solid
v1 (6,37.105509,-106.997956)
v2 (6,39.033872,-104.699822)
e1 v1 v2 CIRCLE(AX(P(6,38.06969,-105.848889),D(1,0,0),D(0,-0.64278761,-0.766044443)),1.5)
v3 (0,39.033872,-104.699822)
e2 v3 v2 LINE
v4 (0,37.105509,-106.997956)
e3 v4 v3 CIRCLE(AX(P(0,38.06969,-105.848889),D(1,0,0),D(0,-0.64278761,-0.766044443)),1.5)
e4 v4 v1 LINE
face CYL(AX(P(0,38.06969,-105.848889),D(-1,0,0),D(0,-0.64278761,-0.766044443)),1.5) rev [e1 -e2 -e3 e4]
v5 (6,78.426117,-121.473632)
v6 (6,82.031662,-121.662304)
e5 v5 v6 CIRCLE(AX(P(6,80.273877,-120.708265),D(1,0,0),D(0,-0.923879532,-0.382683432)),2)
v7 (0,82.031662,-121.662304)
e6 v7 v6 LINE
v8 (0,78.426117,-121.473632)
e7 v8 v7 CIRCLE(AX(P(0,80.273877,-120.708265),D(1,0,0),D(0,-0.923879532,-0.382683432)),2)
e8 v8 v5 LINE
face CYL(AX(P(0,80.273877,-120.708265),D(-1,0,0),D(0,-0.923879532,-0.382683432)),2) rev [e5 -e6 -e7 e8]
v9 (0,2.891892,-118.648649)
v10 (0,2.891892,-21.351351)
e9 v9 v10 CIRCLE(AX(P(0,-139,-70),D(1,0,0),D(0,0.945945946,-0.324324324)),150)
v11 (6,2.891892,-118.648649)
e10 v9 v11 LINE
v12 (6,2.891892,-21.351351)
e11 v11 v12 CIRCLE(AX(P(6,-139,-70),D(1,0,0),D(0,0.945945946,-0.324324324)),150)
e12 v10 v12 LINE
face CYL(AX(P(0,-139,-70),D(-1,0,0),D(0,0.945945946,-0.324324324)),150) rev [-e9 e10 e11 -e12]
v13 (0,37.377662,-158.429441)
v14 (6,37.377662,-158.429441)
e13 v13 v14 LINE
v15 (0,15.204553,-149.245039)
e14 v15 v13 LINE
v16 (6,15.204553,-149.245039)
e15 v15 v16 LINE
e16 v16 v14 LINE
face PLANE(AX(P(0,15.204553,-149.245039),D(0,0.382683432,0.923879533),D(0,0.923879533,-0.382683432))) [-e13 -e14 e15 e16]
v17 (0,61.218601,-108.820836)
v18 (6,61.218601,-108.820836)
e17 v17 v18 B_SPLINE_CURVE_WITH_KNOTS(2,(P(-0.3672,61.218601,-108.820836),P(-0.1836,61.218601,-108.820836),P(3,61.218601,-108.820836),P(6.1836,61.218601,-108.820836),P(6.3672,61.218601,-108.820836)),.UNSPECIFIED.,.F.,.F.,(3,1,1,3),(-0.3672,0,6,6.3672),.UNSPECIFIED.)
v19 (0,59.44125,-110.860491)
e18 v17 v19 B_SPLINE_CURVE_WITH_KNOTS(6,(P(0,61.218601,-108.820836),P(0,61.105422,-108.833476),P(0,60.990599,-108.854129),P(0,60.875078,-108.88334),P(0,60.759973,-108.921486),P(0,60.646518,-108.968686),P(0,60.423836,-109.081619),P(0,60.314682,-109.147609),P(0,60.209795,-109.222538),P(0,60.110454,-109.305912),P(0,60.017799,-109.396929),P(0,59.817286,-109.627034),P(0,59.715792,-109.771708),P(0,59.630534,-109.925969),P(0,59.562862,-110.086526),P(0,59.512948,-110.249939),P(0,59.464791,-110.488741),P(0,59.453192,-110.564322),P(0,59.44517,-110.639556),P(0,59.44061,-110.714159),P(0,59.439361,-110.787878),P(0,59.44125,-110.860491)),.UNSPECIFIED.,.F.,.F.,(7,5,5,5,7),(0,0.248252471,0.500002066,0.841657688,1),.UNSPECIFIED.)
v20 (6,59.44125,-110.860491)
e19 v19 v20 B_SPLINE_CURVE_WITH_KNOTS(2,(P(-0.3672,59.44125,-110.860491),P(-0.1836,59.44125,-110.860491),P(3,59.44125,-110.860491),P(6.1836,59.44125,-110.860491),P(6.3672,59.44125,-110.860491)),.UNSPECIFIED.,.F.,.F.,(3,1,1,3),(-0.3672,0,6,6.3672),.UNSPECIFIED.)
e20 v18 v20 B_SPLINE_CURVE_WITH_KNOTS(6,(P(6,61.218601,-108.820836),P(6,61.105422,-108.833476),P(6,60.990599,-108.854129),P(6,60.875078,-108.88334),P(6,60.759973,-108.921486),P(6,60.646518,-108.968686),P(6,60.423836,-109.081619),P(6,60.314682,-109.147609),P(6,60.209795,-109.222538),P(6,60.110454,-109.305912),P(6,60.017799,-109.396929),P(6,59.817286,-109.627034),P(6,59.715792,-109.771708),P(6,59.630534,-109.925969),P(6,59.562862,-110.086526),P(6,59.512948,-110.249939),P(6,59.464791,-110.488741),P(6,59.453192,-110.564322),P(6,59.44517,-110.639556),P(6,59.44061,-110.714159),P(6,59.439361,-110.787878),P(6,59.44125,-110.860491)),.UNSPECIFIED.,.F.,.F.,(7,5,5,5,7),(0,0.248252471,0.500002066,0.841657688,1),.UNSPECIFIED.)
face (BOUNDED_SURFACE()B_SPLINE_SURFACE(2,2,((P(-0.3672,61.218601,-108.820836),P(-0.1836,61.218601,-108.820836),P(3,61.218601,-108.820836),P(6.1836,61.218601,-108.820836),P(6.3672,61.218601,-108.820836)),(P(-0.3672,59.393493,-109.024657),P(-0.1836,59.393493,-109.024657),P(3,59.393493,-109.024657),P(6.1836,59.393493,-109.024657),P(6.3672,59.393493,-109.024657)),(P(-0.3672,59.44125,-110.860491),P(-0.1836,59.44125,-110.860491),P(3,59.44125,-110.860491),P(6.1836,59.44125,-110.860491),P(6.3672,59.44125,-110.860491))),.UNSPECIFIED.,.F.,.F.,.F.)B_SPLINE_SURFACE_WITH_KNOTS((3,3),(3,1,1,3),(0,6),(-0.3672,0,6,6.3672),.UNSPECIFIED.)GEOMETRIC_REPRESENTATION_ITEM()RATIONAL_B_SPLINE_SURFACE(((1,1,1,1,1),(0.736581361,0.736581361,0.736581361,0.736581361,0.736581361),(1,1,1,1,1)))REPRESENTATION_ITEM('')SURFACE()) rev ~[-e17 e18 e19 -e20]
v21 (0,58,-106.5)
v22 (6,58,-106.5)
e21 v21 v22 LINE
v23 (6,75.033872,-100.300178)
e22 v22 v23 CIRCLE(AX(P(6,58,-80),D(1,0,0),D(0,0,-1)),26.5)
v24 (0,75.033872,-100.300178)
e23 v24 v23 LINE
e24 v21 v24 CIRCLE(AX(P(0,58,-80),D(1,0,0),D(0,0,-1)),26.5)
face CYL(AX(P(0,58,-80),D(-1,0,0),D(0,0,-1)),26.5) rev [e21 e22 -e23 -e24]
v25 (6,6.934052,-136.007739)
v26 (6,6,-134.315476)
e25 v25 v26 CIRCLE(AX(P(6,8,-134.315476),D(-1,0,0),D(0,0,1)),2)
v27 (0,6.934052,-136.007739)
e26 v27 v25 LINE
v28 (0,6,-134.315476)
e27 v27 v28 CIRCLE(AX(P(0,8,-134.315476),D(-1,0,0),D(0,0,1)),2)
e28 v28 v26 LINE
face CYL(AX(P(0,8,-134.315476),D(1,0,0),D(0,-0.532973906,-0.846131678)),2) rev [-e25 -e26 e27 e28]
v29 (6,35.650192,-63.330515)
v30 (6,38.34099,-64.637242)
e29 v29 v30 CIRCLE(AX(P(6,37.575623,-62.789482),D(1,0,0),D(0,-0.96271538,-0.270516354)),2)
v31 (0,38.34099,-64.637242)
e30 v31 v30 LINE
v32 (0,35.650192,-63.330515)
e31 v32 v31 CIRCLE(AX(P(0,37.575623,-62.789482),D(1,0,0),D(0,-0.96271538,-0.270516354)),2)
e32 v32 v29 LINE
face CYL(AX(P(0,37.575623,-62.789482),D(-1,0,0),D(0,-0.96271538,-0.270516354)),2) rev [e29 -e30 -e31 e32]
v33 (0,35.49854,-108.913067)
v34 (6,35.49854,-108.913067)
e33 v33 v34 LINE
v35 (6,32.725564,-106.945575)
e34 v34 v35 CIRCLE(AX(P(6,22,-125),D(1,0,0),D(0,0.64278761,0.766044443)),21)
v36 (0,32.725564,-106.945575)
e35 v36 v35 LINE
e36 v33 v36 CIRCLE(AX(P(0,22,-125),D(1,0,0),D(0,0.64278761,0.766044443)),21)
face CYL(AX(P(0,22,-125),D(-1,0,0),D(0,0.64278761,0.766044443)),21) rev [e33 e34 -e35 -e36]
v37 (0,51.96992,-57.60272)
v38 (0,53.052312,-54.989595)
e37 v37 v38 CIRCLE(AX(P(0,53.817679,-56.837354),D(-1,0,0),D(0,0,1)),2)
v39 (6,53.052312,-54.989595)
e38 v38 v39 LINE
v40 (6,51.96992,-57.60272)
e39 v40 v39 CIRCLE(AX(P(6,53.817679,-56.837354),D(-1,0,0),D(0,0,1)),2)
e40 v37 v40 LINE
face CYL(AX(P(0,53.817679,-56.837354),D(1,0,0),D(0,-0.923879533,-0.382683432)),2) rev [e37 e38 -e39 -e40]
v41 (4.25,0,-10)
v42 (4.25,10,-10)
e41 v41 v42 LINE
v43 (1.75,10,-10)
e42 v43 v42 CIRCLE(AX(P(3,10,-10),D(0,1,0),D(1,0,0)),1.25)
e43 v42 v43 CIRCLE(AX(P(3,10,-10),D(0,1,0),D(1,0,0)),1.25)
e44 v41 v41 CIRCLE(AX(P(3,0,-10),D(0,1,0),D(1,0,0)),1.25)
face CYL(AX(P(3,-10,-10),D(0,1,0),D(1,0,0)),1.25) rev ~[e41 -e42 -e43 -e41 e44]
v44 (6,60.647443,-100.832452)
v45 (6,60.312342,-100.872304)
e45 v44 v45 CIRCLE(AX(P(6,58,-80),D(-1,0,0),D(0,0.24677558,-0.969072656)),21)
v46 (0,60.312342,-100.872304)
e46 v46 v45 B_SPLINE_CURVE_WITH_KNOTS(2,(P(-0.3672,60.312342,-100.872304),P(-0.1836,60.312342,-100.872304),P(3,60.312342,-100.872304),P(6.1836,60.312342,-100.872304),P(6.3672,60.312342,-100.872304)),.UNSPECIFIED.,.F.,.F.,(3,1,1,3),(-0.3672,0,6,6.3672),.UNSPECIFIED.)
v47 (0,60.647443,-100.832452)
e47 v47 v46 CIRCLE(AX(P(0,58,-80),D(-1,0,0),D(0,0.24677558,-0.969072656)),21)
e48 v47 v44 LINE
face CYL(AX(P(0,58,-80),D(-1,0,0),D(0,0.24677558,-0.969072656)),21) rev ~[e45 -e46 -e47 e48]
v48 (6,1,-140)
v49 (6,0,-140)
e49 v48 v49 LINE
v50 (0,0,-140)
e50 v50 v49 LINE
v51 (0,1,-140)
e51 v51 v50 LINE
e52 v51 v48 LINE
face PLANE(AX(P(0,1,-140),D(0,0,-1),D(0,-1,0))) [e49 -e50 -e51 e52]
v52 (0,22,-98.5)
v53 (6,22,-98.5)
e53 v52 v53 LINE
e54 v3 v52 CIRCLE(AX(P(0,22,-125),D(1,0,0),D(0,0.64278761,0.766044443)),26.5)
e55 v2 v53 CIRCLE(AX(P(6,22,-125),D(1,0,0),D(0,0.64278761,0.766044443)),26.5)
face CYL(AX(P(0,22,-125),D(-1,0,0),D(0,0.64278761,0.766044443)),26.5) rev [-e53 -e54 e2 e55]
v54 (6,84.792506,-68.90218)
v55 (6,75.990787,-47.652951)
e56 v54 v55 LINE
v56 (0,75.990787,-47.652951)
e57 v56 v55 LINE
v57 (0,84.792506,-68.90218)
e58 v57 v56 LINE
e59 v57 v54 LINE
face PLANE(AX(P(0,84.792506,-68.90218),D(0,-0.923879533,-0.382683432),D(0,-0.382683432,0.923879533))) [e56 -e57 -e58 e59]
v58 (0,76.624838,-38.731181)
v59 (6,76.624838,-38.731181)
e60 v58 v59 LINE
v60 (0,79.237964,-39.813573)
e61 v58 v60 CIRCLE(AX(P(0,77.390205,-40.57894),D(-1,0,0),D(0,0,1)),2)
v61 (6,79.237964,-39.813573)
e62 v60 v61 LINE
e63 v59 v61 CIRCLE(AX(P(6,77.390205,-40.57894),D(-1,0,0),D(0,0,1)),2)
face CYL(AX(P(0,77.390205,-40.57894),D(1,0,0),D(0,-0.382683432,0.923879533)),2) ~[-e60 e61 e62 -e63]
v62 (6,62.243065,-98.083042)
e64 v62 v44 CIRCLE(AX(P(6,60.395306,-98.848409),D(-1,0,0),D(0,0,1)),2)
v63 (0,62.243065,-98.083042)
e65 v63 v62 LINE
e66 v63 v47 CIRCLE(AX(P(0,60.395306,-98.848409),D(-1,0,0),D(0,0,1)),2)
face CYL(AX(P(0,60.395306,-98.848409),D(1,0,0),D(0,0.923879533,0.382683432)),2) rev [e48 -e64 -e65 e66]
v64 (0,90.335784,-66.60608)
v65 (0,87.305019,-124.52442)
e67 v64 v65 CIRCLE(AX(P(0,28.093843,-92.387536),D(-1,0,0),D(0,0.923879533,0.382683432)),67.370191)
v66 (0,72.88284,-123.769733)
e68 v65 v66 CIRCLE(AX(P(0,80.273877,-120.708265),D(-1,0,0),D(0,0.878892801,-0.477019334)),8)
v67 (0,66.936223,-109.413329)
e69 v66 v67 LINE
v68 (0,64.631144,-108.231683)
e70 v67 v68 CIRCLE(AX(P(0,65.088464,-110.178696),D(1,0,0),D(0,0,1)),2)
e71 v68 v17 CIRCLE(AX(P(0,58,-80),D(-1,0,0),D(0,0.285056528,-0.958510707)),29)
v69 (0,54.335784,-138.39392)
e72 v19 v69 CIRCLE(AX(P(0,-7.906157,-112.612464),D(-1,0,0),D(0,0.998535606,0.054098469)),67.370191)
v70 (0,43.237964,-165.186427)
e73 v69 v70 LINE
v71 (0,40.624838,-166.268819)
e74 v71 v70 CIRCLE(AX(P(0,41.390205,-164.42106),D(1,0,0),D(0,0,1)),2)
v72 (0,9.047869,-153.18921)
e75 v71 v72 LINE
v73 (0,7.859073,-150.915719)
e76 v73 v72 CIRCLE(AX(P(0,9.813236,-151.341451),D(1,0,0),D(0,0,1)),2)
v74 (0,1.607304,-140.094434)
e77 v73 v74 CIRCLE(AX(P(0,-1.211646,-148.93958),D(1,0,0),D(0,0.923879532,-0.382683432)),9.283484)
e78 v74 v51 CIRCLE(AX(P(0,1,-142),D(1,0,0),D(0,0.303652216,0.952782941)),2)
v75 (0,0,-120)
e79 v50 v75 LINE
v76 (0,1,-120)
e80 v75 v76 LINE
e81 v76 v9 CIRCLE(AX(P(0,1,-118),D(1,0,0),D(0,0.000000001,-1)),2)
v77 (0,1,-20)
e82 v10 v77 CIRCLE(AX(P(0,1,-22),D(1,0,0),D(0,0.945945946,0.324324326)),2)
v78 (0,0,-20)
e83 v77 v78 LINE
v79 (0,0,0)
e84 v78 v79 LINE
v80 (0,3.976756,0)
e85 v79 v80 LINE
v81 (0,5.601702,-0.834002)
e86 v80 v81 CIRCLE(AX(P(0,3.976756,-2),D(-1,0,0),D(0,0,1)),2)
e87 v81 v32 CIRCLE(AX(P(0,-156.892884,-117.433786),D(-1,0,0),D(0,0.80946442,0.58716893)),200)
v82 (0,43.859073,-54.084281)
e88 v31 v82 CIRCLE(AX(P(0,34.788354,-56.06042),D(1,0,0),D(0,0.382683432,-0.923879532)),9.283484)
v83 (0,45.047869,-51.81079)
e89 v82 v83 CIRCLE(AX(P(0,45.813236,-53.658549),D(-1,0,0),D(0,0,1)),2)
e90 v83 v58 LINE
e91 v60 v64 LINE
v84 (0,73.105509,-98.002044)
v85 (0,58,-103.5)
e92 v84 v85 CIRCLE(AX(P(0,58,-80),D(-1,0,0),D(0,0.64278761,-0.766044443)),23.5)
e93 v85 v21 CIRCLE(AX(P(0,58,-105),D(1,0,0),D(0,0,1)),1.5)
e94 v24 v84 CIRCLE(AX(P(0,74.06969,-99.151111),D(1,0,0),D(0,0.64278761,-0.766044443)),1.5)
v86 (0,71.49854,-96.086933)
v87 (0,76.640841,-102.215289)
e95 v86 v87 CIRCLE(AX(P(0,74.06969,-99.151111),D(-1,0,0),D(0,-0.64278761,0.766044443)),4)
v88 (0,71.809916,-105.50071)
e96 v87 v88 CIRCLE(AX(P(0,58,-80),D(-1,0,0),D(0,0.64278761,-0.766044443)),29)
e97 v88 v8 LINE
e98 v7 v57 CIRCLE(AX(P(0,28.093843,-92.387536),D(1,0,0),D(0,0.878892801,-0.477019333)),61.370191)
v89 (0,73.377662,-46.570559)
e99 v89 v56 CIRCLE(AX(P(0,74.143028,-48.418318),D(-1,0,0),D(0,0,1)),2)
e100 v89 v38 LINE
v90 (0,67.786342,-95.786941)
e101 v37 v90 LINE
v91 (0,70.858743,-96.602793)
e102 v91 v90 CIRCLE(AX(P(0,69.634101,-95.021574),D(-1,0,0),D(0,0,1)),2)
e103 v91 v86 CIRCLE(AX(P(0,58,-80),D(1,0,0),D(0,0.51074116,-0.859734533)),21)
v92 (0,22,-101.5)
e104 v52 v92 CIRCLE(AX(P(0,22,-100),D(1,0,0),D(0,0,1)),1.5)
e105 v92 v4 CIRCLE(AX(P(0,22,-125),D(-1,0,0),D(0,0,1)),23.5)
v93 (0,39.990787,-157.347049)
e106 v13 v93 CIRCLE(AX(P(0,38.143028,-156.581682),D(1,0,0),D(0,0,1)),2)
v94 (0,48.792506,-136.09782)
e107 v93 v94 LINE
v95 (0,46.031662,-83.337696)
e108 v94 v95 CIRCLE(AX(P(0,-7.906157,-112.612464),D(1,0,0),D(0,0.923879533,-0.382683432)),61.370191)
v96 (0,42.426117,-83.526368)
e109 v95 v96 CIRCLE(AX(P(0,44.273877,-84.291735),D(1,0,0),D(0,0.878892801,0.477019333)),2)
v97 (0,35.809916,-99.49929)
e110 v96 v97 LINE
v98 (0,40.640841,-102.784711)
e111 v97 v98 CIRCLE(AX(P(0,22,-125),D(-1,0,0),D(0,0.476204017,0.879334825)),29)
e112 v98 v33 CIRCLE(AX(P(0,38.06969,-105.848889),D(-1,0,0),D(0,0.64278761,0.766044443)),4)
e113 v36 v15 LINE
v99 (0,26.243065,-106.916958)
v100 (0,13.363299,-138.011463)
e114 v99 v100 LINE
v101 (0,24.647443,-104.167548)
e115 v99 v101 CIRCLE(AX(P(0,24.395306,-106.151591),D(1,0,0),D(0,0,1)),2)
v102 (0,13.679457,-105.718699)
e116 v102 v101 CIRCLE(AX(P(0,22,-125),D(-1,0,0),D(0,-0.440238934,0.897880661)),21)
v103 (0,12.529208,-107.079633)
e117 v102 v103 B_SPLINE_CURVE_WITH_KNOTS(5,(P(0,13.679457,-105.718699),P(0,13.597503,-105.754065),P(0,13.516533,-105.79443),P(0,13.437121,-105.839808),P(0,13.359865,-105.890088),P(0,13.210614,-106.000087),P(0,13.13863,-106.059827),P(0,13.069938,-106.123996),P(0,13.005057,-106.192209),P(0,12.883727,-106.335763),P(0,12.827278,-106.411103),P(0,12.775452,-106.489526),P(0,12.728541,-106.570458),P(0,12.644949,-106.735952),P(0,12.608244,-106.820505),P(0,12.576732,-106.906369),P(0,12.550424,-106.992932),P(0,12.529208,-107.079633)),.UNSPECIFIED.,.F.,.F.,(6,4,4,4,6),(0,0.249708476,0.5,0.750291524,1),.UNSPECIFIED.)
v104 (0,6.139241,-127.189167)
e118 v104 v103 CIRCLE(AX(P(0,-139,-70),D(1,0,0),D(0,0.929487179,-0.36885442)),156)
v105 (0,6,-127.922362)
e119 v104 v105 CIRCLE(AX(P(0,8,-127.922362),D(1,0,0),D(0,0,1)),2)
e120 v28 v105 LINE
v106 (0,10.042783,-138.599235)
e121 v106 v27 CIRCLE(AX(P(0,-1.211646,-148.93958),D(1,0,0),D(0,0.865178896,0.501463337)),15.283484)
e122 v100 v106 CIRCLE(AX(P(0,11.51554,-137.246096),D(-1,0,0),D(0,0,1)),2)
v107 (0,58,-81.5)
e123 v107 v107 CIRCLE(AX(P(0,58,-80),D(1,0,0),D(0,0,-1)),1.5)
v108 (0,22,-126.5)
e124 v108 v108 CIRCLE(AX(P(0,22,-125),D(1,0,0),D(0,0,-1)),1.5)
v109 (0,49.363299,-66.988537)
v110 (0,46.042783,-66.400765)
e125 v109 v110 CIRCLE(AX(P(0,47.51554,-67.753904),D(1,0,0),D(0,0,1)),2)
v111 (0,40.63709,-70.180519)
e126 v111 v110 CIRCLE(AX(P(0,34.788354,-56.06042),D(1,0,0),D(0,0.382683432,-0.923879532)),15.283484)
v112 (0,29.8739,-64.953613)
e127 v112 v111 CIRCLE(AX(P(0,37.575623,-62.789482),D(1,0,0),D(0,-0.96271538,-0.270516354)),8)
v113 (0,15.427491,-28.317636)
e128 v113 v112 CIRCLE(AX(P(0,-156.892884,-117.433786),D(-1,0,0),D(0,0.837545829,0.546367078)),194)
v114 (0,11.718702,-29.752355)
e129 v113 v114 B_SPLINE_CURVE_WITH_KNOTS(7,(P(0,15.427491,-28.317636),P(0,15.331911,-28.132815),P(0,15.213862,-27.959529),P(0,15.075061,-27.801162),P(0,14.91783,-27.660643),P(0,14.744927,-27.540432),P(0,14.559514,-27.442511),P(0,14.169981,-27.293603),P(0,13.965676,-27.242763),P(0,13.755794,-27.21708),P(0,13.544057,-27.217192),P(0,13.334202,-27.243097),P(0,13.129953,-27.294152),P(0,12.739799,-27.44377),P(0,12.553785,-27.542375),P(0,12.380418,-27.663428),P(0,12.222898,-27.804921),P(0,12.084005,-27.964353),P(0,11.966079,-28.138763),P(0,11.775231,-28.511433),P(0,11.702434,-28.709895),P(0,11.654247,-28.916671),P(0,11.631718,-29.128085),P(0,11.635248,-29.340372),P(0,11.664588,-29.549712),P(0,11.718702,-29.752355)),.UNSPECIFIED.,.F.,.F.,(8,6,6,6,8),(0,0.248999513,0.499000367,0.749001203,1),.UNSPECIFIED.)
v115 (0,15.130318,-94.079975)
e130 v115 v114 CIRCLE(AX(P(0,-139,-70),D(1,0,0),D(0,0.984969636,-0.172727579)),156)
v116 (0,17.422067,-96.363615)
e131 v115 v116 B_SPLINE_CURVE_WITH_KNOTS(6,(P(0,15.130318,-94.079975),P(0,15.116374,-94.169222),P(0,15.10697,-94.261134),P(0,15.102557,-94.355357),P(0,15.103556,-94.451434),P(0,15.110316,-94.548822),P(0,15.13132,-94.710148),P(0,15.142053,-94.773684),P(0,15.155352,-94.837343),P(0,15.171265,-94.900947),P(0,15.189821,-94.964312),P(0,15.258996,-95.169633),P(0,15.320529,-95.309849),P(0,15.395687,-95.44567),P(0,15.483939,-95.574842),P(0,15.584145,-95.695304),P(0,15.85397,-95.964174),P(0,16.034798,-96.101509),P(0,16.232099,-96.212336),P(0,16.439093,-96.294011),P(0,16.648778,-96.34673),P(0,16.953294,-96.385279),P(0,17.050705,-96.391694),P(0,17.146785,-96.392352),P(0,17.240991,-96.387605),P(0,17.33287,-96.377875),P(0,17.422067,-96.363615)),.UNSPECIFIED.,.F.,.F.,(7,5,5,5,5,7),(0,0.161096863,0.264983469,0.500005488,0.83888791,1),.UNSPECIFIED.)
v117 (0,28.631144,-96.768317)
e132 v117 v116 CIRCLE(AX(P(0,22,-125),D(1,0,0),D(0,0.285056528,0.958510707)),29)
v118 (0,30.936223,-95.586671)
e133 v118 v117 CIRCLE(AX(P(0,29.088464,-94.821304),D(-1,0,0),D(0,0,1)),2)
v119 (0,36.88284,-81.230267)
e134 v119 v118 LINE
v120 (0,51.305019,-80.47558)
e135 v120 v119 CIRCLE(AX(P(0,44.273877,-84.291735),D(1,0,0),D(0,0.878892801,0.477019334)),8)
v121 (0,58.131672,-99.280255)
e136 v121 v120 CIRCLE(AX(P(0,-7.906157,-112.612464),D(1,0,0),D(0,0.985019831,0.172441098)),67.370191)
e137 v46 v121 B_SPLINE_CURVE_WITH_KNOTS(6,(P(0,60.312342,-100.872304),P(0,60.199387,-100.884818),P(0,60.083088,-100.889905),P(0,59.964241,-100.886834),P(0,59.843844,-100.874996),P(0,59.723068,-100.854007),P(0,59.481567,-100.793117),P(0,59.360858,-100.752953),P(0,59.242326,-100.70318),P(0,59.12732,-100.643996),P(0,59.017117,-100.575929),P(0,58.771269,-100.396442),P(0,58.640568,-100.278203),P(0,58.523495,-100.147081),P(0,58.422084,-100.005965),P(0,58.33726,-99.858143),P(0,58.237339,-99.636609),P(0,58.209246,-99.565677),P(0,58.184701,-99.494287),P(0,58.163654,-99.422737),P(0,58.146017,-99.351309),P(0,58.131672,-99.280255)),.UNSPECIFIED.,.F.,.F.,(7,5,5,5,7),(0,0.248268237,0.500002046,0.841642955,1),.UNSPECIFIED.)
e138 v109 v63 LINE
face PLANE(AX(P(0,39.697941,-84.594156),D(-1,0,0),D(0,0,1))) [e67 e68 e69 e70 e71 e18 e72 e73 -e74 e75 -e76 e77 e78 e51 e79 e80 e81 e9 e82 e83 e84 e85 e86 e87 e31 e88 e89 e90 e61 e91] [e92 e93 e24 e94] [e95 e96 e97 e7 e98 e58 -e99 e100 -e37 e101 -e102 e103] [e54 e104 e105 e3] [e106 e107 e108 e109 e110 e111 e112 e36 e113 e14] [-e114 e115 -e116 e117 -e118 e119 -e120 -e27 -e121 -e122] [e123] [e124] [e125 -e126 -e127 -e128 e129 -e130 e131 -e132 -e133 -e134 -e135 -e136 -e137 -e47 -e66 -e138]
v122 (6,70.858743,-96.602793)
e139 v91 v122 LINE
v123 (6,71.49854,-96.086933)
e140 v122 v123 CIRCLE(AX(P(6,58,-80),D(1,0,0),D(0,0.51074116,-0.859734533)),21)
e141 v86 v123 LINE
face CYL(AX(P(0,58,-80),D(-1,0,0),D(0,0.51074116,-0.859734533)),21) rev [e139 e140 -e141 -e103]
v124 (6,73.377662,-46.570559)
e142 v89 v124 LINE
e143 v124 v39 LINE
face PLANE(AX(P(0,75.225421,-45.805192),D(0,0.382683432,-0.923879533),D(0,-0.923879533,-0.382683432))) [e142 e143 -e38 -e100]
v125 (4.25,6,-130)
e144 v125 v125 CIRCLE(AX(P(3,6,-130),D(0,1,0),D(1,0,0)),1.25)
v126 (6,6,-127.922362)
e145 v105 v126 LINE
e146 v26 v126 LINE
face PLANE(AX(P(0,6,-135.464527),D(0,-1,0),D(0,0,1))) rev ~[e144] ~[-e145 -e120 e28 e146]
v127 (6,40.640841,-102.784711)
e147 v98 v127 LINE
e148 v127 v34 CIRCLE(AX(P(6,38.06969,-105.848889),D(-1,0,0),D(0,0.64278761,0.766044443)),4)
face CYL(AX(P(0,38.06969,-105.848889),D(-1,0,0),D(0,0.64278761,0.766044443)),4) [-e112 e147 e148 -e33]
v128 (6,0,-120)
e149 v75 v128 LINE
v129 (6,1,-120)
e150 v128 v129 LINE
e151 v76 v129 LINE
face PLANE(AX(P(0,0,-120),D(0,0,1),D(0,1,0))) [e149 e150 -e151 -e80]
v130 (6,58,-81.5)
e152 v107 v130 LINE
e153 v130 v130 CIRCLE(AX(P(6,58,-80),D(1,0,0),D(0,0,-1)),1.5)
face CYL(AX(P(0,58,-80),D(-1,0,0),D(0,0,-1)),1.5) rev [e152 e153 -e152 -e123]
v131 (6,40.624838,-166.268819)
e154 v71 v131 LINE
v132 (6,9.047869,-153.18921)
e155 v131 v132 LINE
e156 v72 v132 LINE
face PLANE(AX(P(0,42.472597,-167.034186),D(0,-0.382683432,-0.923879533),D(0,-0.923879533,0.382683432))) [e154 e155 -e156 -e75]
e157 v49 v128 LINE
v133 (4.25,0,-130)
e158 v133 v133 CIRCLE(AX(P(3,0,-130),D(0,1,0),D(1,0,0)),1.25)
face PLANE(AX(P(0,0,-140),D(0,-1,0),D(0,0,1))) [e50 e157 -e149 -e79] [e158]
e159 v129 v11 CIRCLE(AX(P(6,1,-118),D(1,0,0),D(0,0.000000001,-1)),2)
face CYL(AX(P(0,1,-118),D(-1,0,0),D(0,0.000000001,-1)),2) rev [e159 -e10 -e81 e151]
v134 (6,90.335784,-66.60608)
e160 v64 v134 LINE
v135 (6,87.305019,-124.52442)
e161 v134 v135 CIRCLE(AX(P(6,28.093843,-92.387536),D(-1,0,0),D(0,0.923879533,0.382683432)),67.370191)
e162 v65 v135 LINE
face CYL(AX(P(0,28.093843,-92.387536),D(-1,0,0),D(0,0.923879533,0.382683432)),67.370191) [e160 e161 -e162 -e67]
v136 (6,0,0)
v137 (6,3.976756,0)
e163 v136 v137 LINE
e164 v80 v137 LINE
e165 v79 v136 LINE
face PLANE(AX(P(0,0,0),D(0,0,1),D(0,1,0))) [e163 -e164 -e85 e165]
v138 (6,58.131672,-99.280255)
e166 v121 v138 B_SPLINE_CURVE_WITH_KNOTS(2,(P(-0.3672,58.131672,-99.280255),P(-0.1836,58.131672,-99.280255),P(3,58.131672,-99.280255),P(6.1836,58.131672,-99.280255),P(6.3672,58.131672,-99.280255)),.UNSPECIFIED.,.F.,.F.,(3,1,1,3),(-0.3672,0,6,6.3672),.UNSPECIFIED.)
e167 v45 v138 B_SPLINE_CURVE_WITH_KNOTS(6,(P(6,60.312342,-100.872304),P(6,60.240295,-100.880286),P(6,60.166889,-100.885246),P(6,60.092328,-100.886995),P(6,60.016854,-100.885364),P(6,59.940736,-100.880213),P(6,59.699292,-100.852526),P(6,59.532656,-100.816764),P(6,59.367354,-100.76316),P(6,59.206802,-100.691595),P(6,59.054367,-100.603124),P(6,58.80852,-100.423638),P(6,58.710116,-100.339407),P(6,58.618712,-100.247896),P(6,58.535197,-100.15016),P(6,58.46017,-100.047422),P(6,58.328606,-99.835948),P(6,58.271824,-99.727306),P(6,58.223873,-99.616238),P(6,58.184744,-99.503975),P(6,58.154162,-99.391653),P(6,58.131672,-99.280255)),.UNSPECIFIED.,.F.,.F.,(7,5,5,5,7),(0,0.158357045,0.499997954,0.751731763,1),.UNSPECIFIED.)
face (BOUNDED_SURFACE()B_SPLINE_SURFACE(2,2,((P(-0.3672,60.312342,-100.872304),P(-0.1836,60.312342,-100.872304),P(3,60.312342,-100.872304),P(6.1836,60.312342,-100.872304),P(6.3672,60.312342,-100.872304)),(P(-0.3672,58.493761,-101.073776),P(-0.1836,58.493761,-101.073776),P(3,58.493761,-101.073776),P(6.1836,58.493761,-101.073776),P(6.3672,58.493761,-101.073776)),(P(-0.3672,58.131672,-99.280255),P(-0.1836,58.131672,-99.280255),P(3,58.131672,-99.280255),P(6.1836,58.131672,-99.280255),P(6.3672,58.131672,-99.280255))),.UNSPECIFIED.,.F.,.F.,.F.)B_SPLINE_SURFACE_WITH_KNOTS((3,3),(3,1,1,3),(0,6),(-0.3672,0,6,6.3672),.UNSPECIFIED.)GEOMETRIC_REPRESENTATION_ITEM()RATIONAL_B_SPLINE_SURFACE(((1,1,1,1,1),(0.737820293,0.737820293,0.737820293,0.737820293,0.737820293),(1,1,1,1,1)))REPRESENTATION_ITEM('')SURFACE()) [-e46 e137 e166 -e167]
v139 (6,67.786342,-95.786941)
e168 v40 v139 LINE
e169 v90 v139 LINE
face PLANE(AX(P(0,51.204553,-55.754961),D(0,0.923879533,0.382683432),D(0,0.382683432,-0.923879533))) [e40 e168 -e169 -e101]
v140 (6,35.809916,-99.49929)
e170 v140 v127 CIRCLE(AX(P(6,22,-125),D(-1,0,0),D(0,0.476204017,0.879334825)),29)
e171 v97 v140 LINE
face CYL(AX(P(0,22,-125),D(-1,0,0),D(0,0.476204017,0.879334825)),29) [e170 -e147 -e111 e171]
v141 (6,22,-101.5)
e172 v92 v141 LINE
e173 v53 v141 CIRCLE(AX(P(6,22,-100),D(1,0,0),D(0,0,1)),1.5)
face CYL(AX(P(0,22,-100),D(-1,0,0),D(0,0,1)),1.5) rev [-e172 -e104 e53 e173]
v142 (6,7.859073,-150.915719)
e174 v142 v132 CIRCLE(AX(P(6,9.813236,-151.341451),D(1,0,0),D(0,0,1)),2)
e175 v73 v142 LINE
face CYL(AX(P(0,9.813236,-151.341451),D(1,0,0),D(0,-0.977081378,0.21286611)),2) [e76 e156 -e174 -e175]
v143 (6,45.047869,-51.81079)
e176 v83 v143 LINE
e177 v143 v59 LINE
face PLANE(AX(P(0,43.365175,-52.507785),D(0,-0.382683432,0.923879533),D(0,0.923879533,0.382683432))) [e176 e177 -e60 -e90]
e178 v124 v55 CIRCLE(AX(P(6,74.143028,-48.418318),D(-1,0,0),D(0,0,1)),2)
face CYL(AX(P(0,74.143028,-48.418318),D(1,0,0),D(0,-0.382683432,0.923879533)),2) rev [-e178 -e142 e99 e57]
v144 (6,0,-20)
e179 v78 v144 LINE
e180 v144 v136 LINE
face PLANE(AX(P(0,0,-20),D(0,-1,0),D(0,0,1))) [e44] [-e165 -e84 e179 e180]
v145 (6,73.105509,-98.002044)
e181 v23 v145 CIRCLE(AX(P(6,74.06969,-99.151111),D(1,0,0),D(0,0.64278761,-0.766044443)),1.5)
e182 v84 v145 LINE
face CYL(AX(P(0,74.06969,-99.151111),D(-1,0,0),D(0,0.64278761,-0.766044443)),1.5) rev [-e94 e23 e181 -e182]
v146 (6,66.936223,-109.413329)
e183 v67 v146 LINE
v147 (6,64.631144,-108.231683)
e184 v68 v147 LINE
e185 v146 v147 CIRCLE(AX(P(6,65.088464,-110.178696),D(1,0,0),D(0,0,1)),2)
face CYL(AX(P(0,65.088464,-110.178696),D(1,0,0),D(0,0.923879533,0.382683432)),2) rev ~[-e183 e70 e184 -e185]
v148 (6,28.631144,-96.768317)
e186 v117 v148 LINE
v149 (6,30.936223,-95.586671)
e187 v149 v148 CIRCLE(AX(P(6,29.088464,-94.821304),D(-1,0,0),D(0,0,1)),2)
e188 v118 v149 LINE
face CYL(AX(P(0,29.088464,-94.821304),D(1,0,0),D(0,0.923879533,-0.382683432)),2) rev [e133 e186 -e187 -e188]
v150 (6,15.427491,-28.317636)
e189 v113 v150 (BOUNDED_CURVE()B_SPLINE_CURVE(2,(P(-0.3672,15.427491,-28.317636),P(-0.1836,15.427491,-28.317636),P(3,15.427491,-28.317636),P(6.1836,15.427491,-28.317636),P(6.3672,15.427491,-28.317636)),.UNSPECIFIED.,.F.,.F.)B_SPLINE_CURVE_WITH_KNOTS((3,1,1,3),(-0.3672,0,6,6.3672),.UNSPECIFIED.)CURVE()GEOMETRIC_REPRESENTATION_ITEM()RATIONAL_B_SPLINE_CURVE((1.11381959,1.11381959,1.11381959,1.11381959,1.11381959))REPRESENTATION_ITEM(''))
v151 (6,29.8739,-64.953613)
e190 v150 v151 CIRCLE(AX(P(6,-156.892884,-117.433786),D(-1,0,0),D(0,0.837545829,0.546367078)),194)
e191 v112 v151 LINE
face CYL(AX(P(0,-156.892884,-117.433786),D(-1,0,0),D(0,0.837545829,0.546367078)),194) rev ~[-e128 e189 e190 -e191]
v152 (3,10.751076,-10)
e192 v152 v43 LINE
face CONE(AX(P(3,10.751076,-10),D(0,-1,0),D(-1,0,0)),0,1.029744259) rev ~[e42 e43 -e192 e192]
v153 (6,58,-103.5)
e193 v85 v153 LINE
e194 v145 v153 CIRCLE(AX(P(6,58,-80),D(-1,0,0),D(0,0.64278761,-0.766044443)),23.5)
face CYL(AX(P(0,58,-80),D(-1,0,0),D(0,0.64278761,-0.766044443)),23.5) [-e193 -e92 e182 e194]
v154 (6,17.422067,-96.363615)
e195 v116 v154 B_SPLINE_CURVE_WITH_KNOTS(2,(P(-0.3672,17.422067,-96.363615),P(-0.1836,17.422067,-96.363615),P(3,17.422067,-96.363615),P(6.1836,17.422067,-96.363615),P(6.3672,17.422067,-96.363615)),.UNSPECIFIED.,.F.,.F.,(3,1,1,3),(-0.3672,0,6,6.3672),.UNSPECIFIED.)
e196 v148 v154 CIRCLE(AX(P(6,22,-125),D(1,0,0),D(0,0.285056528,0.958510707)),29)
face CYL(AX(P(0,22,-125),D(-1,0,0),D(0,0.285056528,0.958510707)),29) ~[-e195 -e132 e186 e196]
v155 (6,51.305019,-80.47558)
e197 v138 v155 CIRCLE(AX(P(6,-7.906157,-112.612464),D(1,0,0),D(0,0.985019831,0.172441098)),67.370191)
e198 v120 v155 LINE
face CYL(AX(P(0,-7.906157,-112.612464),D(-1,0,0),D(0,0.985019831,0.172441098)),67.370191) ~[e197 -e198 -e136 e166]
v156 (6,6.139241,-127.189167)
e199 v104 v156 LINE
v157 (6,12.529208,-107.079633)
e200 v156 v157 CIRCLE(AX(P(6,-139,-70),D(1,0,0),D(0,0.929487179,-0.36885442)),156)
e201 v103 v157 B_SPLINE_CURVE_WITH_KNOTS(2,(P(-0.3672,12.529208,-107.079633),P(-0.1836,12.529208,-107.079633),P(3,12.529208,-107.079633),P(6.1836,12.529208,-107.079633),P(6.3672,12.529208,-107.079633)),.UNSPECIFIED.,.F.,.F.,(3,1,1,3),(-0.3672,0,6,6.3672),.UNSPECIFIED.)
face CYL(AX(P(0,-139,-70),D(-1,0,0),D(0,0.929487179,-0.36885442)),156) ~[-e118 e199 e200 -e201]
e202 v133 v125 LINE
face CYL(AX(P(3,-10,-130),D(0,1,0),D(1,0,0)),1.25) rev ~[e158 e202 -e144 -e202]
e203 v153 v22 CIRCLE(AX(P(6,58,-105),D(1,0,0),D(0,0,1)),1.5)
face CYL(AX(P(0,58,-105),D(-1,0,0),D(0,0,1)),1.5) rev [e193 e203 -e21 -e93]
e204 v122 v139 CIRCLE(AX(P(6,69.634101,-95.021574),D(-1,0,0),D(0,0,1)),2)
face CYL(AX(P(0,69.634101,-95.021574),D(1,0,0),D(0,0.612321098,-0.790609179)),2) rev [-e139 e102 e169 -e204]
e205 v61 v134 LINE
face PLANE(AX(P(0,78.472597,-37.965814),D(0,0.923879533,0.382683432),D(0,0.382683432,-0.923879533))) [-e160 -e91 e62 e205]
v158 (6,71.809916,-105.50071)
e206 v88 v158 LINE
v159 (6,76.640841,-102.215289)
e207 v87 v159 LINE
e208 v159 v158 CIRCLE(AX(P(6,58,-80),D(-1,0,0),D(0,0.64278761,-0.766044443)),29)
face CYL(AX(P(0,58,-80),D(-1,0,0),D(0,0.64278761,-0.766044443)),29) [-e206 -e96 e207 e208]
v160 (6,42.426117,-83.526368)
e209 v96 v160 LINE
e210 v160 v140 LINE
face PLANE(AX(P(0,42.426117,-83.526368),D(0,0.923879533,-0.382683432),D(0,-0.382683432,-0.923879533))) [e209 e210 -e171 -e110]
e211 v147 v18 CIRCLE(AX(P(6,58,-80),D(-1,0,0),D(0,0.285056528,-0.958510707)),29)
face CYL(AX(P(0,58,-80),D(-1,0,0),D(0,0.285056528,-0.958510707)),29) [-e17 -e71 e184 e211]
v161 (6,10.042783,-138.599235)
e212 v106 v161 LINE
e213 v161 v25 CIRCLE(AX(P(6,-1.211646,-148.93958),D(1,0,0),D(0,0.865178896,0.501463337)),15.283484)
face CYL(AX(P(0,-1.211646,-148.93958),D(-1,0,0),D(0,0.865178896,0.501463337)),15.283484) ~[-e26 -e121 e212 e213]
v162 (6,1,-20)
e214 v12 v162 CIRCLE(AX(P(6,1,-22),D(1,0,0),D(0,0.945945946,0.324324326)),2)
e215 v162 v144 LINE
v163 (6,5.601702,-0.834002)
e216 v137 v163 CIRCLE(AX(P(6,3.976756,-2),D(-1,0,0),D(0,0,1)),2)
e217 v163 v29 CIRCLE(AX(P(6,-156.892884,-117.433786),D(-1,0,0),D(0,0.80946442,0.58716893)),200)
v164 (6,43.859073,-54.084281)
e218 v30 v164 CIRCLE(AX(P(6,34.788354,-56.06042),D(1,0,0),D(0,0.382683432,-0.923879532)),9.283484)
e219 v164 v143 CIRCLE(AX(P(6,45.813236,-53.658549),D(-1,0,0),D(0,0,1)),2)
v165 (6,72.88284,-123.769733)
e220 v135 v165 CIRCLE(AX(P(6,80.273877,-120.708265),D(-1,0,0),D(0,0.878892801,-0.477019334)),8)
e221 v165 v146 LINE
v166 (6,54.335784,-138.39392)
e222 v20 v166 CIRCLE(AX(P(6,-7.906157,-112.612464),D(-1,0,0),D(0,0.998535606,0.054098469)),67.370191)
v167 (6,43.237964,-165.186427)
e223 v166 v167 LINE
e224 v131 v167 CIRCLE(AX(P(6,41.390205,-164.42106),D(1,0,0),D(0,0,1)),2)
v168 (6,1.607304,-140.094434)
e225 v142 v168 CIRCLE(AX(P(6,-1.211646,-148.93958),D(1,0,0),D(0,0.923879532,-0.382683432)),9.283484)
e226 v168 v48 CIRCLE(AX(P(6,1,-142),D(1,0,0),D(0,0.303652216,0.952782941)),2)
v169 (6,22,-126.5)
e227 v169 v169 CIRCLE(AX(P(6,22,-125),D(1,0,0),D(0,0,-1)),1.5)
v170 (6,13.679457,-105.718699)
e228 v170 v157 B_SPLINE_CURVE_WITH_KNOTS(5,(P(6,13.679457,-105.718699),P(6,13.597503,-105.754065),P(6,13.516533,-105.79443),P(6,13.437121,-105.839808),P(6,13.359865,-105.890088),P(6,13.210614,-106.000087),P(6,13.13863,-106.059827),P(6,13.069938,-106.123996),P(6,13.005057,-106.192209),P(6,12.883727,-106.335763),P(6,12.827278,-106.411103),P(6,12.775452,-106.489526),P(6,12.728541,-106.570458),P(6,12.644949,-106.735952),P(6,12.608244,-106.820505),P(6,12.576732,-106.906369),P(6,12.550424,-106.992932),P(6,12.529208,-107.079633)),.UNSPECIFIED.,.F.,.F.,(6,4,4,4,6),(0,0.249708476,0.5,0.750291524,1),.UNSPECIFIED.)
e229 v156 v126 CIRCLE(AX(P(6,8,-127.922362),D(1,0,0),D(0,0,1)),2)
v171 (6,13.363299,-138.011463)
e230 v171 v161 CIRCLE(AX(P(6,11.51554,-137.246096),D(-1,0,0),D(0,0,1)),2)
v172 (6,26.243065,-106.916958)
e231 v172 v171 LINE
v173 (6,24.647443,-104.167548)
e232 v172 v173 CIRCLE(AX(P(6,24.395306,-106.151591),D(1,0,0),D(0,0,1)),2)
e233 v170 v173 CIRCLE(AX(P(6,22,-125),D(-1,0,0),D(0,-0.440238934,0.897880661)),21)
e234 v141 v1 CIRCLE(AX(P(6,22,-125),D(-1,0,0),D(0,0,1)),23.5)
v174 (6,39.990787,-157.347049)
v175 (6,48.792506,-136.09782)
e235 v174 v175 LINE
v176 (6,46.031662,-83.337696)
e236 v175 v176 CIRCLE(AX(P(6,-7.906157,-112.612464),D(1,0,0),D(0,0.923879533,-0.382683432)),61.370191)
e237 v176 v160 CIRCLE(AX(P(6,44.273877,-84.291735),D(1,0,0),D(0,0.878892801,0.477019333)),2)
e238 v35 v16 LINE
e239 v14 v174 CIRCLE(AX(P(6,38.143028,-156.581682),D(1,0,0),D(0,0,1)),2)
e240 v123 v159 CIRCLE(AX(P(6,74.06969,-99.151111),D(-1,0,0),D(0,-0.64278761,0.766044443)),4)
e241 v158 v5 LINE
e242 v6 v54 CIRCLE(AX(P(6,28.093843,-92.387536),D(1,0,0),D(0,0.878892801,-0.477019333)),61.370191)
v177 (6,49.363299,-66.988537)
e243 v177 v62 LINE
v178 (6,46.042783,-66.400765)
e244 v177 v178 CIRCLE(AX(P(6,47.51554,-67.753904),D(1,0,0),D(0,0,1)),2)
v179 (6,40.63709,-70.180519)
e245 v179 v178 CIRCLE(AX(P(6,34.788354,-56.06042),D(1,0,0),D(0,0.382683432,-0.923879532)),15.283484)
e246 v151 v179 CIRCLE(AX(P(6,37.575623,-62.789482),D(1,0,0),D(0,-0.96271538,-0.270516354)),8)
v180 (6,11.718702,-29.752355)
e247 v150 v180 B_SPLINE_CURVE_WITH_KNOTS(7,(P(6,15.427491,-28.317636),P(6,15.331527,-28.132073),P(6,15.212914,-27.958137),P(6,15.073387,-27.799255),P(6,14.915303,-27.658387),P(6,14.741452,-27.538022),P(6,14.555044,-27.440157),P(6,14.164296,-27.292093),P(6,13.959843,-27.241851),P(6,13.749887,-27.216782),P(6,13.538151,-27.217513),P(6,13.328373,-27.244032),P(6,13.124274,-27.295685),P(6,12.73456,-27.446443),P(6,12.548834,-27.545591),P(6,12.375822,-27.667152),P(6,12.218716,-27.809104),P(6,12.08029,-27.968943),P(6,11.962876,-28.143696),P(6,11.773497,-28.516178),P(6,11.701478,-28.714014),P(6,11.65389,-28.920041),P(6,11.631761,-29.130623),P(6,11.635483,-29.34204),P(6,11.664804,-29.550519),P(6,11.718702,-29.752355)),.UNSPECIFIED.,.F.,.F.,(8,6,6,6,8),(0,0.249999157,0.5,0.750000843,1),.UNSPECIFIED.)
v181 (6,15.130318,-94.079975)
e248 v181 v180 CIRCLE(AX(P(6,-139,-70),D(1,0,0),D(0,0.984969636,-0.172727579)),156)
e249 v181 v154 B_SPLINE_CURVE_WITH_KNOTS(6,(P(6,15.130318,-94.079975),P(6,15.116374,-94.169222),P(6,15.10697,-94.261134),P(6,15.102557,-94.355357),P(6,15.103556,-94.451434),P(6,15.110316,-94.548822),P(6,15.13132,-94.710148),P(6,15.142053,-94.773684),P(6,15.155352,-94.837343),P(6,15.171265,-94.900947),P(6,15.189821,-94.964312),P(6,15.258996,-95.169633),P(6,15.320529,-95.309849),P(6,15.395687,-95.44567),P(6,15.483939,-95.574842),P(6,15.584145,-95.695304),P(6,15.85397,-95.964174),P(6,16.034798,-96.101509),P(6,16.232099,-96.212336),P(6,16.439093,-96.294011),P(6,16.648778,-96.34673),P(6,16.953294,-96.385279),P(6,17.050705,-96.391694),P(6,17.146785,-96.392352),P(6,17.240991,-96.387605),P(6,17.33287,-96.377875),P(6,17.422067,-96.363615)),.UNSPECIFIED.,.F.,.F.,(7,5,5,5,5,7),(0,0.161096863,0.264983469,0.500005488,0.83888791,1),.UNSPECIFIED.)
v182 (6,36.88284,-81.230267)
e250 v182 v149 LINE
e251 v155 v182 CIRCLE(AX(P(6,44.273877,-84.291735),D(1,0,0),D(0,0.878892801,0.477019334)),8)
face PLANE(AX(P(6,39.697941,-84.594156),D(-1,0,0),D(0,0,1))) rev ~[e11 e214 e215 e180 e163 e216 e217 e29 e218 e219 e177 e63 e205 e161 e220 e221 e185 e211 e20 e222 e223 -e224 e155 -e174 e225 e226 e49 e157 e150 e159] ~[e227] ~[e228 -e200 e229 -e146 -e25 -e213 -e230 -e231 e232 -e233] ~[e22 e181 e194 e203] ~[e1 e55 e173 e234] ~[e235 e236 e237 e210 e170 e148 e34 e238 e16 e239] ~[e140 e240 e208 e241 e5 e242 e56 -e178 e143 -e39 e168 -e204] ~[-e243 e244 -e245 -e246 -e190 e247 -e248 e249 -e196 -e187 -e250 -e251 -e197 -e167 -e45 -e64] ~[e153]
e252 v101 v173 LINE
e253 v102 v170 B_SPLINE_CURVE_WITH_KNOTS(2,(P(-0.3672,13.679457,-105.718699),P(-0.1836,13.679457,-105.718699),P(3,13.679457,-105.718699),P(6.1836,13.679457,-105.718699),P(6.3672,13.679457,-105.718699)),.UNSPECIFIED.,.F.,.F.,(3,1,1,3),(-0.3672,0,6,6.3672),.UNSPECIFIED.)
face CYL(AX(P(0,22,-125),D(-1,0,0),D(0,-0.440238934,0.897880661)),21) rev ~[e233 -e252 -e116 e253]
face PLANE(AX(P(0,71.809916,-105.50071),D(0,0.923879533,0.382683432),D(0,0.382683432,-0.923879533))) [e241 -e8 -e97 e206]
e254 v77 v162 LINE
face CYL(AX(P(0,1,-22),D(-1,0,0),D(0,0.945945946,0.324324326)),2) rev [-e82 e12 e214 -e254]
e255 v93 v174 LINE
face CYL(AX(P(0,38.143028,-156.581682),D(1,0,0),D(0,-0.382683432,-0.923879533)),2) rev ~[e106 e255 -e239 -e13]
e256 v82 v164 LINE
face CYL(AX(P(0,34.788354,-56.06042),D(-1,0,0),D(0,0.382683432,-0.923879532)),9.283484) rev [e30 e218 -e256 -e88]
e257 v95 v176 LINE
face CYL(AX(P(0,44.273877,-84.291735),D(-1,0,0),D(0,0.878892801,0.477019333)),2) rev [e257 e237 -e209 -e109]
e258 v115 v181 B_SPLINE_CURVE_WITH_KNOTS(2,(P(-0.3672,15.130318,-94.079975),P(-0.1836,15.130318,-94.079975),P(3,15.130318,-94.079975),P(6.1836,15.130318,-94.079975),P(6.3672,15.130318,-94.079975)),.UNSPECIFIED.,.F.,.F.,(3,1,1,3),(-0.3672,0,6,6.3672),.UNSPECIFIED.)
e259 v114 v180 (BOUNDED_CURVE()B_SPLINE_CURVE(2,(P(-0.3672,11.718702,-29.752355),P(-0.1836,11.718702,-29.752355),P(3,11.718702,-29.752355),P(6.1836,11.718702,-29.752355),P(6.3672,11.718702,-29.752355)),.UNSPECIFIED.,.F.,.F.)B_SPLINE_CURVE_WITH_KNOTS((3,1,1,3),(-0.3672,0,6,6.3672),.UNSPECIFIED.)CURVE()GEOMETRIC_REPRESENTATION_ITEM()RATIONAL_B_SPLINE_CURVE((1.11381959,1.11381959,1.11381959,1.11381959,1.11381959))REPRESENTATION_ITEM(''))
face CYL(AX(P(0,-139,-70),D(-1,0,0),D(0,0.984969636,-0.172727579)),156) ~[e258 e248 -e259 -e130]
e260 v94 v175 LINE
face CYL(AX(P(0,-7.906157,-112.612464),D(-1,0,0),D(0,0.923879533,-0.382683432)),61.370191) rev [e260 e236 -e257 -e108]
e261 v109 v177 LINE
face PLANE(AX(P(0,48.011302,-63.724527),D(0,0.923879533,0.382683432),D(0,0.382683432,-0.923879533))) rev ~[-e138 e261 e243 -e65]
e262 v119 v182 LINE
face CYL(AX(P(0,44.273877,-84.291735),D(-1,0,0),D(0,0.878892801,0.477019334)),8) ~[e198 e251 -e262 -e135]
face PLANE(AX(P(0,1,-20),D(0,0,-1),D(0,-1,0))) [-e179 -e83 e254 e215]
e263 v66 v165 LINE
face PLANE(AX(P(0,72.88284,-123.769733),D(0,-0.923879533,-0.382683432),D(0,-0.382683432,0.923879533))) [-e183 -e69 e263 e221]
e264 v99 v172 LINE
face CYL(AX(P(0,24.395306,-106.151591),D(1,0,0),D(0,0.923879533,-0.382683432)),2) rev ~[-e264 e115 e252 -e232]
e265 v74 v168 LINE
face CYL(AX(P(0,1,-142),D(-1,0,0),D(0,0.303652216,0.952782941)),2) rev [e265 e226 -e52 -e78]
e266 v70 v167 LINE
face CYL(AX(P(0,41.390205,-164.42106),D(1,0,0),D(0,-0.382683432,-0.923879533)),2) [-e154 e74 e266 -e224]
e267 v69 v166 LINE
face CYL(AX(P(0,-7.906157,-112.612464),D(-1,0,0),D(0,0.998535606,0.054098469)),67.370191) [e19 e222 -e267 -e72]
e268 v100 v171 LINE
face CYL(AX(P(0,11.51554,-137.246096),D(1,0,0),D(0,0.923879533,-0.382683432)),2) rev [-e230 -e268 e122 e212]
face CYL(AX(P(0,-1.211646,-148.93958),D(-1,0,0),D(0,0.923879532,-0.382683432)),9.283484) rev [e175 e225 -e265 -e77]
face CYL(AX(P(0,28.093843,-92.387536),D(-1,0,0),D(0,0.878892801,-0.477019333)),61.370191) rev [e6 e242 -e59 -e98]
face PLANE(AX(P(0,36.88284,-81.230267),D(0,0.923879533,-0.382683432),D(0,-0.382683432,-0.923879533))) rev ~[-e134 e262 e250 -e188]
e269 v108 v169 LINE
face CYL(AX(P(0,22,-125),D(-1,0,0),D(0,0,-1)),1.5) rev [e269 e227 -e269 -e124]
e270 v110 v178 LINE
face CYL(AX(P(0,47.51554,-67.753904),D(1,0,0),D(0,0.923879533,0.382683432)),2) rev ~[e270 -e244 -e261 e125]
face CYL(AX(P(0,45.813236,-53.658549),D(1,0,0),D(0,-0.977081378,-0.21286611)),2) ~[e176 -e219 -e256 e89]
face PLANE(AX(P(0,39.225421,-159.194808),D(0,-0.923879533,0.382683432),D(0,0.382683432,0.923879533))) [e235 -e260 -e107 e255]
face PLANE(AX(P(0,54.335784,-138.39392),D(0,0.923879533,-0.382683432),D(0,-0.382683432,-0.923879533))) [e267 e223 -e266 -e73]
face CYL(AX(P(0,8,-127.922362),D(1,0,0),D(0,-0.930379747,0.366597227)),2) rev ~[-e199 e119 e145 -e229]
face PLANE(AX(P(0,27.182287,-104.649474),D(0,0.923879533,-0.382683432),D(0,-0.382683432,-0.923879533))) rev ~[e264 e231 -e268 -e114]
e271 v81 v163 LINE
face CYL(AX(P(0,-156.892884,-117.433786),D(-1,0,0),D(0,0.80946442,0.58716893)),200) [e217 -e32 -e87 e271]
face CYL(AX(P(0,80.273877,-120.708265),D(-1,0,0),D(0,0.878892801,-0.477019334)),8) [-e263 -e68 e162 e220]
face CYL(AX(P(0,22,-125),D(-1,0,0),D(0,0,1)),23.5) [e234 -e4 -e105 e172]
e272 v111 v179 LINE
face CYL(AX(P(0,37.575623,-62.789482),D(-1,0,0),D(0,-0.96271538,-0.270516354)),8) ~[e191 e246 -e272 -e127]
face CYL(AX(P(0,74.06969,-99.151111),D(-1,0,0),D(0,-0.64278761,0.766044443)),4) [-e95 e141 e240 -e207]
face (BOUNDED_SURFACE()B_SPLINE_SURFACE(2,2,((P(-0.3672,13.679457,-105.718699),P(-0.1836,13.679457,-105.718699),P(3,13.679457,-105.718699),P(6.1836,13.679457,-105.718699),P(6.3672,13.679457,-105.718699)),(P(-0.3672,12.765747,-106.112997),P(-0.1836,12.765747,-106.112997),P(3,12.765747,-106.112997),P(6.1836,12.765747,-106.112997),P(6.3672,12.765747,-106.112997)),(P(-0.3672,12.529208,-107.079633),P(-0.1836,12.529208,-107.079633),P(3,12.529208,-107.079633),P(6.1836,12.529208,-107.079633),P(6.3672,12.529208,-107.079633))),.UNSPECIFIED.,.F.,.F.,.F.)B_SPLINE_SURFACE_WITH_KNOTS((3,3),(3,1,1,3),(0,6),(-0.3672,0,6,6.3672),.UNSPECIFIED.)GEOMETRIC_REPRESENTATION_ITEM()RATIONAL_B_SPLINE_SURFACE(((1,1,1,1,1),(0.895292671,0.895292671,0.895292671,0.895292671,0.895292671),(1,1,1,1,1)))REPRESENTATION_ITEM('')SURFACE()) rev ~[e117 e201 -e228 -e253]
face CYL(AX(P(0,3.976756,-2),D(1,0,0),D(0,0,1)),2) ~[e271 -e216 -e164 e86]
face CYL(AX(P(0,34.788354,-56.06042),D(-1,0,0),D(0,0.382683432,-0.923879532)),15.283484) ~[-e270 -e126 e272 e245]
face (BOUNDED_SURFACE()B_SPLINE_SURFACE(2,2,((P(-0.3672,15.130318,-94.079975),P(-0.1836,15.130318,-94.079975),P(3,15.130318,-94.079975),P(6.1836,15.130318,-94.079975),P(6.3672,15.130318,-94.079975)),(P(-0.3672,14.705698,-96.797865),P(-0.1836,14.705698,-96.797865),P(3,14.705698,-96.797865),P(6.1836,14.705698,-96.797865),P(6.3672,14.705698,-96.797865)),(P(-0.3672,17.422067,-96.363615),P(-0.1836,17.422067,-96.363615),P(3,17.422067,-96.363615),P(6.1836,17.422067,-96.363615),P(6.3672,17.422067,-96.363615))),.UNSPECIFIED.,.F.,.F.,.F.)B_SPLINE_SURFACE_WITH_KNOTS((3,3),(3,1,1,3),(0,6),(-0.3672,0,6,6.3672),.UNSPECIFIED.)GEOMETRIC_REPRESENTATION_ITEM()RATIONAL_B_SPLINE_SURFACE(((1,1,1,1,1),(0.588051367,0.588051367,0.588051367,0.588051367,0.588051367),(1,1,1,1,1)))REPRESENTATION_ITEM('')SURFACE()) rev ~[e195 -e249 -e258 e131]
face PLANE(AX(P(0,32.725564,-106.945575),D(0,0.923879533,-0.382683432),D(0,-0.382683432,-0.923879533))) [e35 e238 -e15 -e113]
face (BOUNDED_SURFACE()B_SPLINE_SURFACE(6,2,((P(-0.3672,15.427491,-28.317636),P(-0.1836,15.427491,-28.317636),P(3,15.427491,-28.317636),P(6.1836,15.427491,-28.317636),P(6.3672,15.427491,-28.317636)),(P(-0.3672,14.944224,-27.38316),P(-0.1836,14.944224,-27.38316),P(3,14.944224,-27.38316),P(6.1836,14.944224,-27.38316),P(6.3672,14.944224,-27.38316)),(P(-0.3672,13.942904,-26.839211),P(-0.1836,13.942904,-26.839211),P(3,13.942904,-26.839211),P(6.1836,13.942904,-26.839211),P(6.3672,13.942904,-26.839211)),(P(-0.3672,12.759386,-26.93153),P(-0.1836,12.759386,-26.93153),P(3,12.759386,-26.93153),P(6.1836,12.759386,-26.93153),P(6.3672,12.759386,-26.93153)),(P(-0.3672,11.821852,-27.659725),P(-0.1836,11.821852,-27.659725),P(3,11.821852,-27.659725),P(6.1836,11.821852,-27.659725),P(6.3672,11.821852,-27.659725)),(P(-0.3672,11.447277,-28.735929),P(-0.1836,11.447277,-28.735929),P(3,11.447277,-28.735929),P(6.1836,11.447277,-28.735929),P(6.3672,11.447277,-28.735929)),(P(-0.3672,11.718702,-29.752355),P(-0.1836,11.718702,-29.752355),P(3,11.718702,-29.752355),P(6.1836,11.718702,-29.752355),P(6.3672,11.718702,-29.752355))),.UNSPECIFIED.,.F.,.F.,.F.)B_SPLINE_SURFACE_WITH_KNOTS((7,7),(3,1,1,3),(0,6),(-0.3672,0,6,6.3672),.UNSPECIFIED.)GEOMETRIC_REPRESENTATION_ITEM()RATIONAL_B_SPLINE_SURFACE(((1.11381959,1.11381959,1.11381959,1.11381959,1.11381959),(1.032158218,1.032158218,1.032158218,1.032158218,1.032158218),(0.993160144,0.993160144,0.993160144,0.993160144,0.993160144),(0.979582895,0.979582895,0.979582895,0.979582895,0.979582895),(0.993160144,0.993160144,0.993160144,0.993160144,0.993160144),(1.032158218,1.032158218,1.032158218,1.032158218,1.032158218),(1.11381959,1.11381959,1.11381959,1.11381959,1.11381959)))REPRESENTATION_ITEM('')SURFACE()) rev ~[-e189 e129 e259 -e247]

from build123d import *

# Parameters (mm, degrees)
SKETCH1_R                   = 1.5
BOSS_EXTRUDE1_DEPTH         = 6
FILLET1_R                   = 2
TAP_DRILL_FOR_M3_TAP1_D     = 2.5
TAP_DRILL_FOR_M3_TAP1_DEPTH = 10
TAP_DRILL_FOR_M3_TAP1_TIP   = 0.751075774


with BuildPart() as part:
    # Sketch1 → Boss-Extrude1 (new body)
    with BuildSketch(Plane(origin=(0, 0, 0), x_dir=(0, 0, -1), z_dir=(1, 0, 0))):
        with BuildLine():
            Line((0, 0), (0, 5))
            ThreePointArc((0, 5), (30.306872644, 23.131839172), (63.330515184, 35.650191885))
            ThreePointArc((63.330515184, 35.650191885), (64.588559877, 36.701940492), (64.63724154, 38.340989509))
            ThreePointArc((64.63724154, 38.340989509), (59.61305605, 43.365174999), (52.507784789, 43.365174999))
            Line((52.507784789, 43.365174999), (37.965814359, 78.472597235))
            Line((37.965814359, 78.472597235), (66.606079867, 90.335783638))
            ThreePointArc((66.606079867, 90.335783638), (95.908082664, 95.371985071), (124.52441978, 87.305018919))
            ThreePointArc((124.52441978, 87.305018919), (128.697334576, 79.855822577), (123.769732571, 72.882840251))
            Line((123.769732571, 72.882840251), (107.796810512, 66.266639304))
            ThreePointArc((107.796810512, 66.266639304), (108.591313984, 62.851470364), (108.967839824, 59.365377574))
            ThreePointArc((108.967839824, 59.365377574), (123.962972186, 58.5009858), (138.393920133, 54.335783638))
            Line((138.393920133, 54.335783638), (167.034185641, 42.472597235))
            Line((167.034185641, 42.472597235), (152.492215211, 7.365174999))
            ThreePointArc((152.492215211, 7.365174999), (145.029217261, 7.208101321), (140.094434117, 1.607304426))
            ThreePointArc((140.094434117, 1.607304426), (140.023749539, 1.307301346), (140, 1))
            Line((140, 1), (140, 0))
            Line((140, 0), (120, 0))
            Line((120, 0), (120, 1))
            ThreePointArc((120, 1), (119.627466942, 2.162476387), (118.648648649, 2.891891892))
            ThreePointArc((118.648648649, 2.891891892), (70, 11), (21.351351351, 2.891891892))
            ThreePointArc((21.351351351, 2.891891892), (20.372533058, 2.162476387), (20, 1))
            Line((20, 1), (20, 0))
            Line((20, 0), (0, 0))
        make_face()
        with Locations((80, 58)):
            Circle(SKETCH1_R, mode=Mode.SUBTRACT)
        with Locations((125, 22)):
            Circle(SKETCH1_R, mode=Mode.SUBTRACT)
        with BuildLine():
            Line((105.500709917, 71.809916499), (121.473631977, 78.426117447))
            ThreePointArc((121.473631977, 78.426117447), (122.705532478, 80.169363028), (121.662303779, 82.031662113))
            ThreePointArc((121.662303779, 82.031662113), (95.594542214, 89.380182973), (68.902180461, 84.792506443))
            Line((68.902180461, 84.792506443), (45.805192149, 75.225420634))
            Line((45.805192149, 75.225420634), (55.75496139, 51.204552788))
            Line((55.75496139, 51.204552788), (98.054425187, 68.725564374))
            ThreePointArc((98.054425187, 68.725564374), (97.126892249, 70.151936549), (96.086933305, 71.498539803))
            ThreePointArc((96.086933305, 71.498539803), (96.579960639, 77.133868015), (102.21528885, 76.640840681))
            ThreePointArc((102.21528885, 76.640840681), (103.979962296, 74.308323282), (105.500709917, 71.809916499))
        make_face(mode=Mode.SUBTRACT)
        with BuildLine():
            Line((63.72452745, 48.011301935), (100.350525782, 63.182287179))
            ThreePointArc((100.350525782, 63.182287179), (100.807496311, 60.83691686), (100.995074214, 58.454817254))
            ThreePointArc((100.995074214, 58.454817254), (90.445167867, 55.712658084), (80.47558022, 51.305018919))
            ThreePointArc((80.47558022, 51.305018919), (76.302665424, 43.855822577), (81.230267429, 36.882840251))
            Line((81.230267429, 36.882840251), (97.203189488, 30.266639304))
            ThreePointArc((97.203189488, 30.266639304), (96.003949868, 22.478619602), (96.9455023, 14.655263189))
            ThreePointArc((96.9455023, 14.655263189), (53.555187376, 16.130809763), (11.438572835, 5.591006803))
            ThreePointArc((11.438572835, 5.591006803), (37.27128416, 19.770562369), (64.953613309, 29.873899607))
            ThreePointArc((64.953613309, 29.873899607), (69.985792082, 34.080894036), (70.180518735, 40.637090103))
            ThreePointArc((70.180518735, 40.637090103), (67.559666076, 44.855738901), (63.72452745, 48.011301935))
        make_face(mode=Mode.SUBTRACT)
        with BuildLine():
            Line((106.945574813, 32.725564374), (149.24503861, 15.204552788))
            Line((149.24503861, 15.204552788), (159.194807851, 39.225420634))
            Line((159.194807851, 39.225420634), (136.097819539, 48.792506443))
            ThreePointArc((136.097819539, 48.792506443), (109.405457786, 53.380182973), (83.337696221, 46.031662113))
            ThreePointArc((83.337696221, 46.031662113), (82.294467522, 44.169363028), (83.526368023, 42.426117447))
            Line((83.526368023, 42.426117447), (99.499290083, 35.809916499))
            ThreePointArc((99.499290083, 35.809916499), (101.020037704, 38.308323282), (102.78471115, 40.640840681))
            ThreePointArc((102.78471115, 40.640840681), (108.420039361, 41.133868015), (108.913066695, 35.498539803))
            ThreePointArc((108.913066695, 35.498539803), (107.873107751, 34.151936549), (106.945574813, 32.725564374))
        make_face(mode=Mode.SUBTRACT)
        with BuildLine():
            Line((104.649474218, 27.182287179), (141.27547255, 12.011301935))
            ThreePointArc((141.27547255, 12.011301935), (137.950950961, 9.410732752), (135.464526627, 6))
            Line((135.464526627, 6), (127.541289523, 6))
            ThreePointArc((127.541289523, 6), (116.964502802, 9.762681734), (106.144506127, 12.754982379))
            ThreePointArc((106.144506127, 12.754982379), (104.111850842, 19.835461998), (104.649474218, 27.182287179))
        make_face(mode=Mode.SUBTRACT)
        with BuildLine():
            ThreePointArc((106.5, 58), (104.901854451, 67.063533798), (100.300177743, 75.033871657))
            ThreePointArc((100.300177743, 75.033871657), (98.186929663, 75.218756907), (98.002044413, 73.105508828))
            ThreePointArc((98.002044413, 73.105508828), (102.082776588, 66.037473368), (103.5, 58))
            ThreePointArc((103.5, 58), (105, 56.5), (106.5, 58))
        make_face(mode=Mode.SUBTRACT)
        with BuildLine():
            ThreePointArc((104.699822257, 39.033871657), (100.098145549, 31.063533798), (98.5, 22))
            ThreePointArc((98.5, 22), (100, 20.5), (101.5, 22))
            ThreePointArc((101.5, 22), (102.917223412, 30.037473368), (106.997955587, 37.105508828))
            ThreePointArc((106.997955587, 37.105508828), (106.813070337, 39.218756907), (104.699822257, 39.033871657))
        make_face(mode=Mode.SUBTRACT)
    extrude(amount=BOSS_EXTRUDE1_DEPTH)

    # Fillet1
    fillet1_edges = [part.edges().sort_by_distance(p)[0] for p in [
        (3, 75.225420634, -45.805192149),
        (3, 51.204552788, -55.75496139),
        (3, 68.725564374, -98.054425187),
        (3, 58.454817254, -100.995074214),
        (3, 63.182287179, -100.350525782),
        (3, 48.011301935, -63.72452745),
        (3, 5.591006803, -11.438572835),
        (3, 14.655263189, -96.9455023),
        (3, 30.266639304, -97.203189488),
        (3, 27.182287179, -104.649474218),
        (3, 12.754982379, -106.144506127),
        (3, 6, -127.541289523),
        (3, 6, -135.464526627),
        (3, 12.011301935, -141.27547255),
        (3, 5, 0),
        (3, 43.365174999, -52.507784789),
        (3, 78.472597235, -37.965814359),
        (3, 66.266639304, -107.796810512),
        (3, 59.365377574, -108.967839824),
        (3, 42.472597235, -167.034185641),
        (3, 7.365174999, -152.492215211),
        (3, 39.225420634, -159.194807851),
    ]]
    fillet(fillet1_edges, radius=FILLET1_R)

    # Tap Drill for M3 Tap1
    with Locations(Plane(origin=(0, 0, 0), x_dir=(-1, 0, 0), z_dir=(0, -1, 0))):
        with Locations((-3, 10), (-3, 130)):
            Hole(TAP_DRILL_FOR_M3_TAP1_D / 2, depth=TAP_DRILL_FOR_M3_TAP1_DEPTH)
            with Locations((0, 0, -(TAP_DRILL_FOR_M3_TAP1_DEPTH + TAP_DRILL_FOR_M3_TAP1_TIP / 2))):  # 118° drill point
                Cone(0, TAP_DRILL_FOR_M3_TAP1_D / 2, TAP_DRILL_FOR_M3_TAP1_TIP, mode=Mode.SUBTRACT)


solid = part.part
